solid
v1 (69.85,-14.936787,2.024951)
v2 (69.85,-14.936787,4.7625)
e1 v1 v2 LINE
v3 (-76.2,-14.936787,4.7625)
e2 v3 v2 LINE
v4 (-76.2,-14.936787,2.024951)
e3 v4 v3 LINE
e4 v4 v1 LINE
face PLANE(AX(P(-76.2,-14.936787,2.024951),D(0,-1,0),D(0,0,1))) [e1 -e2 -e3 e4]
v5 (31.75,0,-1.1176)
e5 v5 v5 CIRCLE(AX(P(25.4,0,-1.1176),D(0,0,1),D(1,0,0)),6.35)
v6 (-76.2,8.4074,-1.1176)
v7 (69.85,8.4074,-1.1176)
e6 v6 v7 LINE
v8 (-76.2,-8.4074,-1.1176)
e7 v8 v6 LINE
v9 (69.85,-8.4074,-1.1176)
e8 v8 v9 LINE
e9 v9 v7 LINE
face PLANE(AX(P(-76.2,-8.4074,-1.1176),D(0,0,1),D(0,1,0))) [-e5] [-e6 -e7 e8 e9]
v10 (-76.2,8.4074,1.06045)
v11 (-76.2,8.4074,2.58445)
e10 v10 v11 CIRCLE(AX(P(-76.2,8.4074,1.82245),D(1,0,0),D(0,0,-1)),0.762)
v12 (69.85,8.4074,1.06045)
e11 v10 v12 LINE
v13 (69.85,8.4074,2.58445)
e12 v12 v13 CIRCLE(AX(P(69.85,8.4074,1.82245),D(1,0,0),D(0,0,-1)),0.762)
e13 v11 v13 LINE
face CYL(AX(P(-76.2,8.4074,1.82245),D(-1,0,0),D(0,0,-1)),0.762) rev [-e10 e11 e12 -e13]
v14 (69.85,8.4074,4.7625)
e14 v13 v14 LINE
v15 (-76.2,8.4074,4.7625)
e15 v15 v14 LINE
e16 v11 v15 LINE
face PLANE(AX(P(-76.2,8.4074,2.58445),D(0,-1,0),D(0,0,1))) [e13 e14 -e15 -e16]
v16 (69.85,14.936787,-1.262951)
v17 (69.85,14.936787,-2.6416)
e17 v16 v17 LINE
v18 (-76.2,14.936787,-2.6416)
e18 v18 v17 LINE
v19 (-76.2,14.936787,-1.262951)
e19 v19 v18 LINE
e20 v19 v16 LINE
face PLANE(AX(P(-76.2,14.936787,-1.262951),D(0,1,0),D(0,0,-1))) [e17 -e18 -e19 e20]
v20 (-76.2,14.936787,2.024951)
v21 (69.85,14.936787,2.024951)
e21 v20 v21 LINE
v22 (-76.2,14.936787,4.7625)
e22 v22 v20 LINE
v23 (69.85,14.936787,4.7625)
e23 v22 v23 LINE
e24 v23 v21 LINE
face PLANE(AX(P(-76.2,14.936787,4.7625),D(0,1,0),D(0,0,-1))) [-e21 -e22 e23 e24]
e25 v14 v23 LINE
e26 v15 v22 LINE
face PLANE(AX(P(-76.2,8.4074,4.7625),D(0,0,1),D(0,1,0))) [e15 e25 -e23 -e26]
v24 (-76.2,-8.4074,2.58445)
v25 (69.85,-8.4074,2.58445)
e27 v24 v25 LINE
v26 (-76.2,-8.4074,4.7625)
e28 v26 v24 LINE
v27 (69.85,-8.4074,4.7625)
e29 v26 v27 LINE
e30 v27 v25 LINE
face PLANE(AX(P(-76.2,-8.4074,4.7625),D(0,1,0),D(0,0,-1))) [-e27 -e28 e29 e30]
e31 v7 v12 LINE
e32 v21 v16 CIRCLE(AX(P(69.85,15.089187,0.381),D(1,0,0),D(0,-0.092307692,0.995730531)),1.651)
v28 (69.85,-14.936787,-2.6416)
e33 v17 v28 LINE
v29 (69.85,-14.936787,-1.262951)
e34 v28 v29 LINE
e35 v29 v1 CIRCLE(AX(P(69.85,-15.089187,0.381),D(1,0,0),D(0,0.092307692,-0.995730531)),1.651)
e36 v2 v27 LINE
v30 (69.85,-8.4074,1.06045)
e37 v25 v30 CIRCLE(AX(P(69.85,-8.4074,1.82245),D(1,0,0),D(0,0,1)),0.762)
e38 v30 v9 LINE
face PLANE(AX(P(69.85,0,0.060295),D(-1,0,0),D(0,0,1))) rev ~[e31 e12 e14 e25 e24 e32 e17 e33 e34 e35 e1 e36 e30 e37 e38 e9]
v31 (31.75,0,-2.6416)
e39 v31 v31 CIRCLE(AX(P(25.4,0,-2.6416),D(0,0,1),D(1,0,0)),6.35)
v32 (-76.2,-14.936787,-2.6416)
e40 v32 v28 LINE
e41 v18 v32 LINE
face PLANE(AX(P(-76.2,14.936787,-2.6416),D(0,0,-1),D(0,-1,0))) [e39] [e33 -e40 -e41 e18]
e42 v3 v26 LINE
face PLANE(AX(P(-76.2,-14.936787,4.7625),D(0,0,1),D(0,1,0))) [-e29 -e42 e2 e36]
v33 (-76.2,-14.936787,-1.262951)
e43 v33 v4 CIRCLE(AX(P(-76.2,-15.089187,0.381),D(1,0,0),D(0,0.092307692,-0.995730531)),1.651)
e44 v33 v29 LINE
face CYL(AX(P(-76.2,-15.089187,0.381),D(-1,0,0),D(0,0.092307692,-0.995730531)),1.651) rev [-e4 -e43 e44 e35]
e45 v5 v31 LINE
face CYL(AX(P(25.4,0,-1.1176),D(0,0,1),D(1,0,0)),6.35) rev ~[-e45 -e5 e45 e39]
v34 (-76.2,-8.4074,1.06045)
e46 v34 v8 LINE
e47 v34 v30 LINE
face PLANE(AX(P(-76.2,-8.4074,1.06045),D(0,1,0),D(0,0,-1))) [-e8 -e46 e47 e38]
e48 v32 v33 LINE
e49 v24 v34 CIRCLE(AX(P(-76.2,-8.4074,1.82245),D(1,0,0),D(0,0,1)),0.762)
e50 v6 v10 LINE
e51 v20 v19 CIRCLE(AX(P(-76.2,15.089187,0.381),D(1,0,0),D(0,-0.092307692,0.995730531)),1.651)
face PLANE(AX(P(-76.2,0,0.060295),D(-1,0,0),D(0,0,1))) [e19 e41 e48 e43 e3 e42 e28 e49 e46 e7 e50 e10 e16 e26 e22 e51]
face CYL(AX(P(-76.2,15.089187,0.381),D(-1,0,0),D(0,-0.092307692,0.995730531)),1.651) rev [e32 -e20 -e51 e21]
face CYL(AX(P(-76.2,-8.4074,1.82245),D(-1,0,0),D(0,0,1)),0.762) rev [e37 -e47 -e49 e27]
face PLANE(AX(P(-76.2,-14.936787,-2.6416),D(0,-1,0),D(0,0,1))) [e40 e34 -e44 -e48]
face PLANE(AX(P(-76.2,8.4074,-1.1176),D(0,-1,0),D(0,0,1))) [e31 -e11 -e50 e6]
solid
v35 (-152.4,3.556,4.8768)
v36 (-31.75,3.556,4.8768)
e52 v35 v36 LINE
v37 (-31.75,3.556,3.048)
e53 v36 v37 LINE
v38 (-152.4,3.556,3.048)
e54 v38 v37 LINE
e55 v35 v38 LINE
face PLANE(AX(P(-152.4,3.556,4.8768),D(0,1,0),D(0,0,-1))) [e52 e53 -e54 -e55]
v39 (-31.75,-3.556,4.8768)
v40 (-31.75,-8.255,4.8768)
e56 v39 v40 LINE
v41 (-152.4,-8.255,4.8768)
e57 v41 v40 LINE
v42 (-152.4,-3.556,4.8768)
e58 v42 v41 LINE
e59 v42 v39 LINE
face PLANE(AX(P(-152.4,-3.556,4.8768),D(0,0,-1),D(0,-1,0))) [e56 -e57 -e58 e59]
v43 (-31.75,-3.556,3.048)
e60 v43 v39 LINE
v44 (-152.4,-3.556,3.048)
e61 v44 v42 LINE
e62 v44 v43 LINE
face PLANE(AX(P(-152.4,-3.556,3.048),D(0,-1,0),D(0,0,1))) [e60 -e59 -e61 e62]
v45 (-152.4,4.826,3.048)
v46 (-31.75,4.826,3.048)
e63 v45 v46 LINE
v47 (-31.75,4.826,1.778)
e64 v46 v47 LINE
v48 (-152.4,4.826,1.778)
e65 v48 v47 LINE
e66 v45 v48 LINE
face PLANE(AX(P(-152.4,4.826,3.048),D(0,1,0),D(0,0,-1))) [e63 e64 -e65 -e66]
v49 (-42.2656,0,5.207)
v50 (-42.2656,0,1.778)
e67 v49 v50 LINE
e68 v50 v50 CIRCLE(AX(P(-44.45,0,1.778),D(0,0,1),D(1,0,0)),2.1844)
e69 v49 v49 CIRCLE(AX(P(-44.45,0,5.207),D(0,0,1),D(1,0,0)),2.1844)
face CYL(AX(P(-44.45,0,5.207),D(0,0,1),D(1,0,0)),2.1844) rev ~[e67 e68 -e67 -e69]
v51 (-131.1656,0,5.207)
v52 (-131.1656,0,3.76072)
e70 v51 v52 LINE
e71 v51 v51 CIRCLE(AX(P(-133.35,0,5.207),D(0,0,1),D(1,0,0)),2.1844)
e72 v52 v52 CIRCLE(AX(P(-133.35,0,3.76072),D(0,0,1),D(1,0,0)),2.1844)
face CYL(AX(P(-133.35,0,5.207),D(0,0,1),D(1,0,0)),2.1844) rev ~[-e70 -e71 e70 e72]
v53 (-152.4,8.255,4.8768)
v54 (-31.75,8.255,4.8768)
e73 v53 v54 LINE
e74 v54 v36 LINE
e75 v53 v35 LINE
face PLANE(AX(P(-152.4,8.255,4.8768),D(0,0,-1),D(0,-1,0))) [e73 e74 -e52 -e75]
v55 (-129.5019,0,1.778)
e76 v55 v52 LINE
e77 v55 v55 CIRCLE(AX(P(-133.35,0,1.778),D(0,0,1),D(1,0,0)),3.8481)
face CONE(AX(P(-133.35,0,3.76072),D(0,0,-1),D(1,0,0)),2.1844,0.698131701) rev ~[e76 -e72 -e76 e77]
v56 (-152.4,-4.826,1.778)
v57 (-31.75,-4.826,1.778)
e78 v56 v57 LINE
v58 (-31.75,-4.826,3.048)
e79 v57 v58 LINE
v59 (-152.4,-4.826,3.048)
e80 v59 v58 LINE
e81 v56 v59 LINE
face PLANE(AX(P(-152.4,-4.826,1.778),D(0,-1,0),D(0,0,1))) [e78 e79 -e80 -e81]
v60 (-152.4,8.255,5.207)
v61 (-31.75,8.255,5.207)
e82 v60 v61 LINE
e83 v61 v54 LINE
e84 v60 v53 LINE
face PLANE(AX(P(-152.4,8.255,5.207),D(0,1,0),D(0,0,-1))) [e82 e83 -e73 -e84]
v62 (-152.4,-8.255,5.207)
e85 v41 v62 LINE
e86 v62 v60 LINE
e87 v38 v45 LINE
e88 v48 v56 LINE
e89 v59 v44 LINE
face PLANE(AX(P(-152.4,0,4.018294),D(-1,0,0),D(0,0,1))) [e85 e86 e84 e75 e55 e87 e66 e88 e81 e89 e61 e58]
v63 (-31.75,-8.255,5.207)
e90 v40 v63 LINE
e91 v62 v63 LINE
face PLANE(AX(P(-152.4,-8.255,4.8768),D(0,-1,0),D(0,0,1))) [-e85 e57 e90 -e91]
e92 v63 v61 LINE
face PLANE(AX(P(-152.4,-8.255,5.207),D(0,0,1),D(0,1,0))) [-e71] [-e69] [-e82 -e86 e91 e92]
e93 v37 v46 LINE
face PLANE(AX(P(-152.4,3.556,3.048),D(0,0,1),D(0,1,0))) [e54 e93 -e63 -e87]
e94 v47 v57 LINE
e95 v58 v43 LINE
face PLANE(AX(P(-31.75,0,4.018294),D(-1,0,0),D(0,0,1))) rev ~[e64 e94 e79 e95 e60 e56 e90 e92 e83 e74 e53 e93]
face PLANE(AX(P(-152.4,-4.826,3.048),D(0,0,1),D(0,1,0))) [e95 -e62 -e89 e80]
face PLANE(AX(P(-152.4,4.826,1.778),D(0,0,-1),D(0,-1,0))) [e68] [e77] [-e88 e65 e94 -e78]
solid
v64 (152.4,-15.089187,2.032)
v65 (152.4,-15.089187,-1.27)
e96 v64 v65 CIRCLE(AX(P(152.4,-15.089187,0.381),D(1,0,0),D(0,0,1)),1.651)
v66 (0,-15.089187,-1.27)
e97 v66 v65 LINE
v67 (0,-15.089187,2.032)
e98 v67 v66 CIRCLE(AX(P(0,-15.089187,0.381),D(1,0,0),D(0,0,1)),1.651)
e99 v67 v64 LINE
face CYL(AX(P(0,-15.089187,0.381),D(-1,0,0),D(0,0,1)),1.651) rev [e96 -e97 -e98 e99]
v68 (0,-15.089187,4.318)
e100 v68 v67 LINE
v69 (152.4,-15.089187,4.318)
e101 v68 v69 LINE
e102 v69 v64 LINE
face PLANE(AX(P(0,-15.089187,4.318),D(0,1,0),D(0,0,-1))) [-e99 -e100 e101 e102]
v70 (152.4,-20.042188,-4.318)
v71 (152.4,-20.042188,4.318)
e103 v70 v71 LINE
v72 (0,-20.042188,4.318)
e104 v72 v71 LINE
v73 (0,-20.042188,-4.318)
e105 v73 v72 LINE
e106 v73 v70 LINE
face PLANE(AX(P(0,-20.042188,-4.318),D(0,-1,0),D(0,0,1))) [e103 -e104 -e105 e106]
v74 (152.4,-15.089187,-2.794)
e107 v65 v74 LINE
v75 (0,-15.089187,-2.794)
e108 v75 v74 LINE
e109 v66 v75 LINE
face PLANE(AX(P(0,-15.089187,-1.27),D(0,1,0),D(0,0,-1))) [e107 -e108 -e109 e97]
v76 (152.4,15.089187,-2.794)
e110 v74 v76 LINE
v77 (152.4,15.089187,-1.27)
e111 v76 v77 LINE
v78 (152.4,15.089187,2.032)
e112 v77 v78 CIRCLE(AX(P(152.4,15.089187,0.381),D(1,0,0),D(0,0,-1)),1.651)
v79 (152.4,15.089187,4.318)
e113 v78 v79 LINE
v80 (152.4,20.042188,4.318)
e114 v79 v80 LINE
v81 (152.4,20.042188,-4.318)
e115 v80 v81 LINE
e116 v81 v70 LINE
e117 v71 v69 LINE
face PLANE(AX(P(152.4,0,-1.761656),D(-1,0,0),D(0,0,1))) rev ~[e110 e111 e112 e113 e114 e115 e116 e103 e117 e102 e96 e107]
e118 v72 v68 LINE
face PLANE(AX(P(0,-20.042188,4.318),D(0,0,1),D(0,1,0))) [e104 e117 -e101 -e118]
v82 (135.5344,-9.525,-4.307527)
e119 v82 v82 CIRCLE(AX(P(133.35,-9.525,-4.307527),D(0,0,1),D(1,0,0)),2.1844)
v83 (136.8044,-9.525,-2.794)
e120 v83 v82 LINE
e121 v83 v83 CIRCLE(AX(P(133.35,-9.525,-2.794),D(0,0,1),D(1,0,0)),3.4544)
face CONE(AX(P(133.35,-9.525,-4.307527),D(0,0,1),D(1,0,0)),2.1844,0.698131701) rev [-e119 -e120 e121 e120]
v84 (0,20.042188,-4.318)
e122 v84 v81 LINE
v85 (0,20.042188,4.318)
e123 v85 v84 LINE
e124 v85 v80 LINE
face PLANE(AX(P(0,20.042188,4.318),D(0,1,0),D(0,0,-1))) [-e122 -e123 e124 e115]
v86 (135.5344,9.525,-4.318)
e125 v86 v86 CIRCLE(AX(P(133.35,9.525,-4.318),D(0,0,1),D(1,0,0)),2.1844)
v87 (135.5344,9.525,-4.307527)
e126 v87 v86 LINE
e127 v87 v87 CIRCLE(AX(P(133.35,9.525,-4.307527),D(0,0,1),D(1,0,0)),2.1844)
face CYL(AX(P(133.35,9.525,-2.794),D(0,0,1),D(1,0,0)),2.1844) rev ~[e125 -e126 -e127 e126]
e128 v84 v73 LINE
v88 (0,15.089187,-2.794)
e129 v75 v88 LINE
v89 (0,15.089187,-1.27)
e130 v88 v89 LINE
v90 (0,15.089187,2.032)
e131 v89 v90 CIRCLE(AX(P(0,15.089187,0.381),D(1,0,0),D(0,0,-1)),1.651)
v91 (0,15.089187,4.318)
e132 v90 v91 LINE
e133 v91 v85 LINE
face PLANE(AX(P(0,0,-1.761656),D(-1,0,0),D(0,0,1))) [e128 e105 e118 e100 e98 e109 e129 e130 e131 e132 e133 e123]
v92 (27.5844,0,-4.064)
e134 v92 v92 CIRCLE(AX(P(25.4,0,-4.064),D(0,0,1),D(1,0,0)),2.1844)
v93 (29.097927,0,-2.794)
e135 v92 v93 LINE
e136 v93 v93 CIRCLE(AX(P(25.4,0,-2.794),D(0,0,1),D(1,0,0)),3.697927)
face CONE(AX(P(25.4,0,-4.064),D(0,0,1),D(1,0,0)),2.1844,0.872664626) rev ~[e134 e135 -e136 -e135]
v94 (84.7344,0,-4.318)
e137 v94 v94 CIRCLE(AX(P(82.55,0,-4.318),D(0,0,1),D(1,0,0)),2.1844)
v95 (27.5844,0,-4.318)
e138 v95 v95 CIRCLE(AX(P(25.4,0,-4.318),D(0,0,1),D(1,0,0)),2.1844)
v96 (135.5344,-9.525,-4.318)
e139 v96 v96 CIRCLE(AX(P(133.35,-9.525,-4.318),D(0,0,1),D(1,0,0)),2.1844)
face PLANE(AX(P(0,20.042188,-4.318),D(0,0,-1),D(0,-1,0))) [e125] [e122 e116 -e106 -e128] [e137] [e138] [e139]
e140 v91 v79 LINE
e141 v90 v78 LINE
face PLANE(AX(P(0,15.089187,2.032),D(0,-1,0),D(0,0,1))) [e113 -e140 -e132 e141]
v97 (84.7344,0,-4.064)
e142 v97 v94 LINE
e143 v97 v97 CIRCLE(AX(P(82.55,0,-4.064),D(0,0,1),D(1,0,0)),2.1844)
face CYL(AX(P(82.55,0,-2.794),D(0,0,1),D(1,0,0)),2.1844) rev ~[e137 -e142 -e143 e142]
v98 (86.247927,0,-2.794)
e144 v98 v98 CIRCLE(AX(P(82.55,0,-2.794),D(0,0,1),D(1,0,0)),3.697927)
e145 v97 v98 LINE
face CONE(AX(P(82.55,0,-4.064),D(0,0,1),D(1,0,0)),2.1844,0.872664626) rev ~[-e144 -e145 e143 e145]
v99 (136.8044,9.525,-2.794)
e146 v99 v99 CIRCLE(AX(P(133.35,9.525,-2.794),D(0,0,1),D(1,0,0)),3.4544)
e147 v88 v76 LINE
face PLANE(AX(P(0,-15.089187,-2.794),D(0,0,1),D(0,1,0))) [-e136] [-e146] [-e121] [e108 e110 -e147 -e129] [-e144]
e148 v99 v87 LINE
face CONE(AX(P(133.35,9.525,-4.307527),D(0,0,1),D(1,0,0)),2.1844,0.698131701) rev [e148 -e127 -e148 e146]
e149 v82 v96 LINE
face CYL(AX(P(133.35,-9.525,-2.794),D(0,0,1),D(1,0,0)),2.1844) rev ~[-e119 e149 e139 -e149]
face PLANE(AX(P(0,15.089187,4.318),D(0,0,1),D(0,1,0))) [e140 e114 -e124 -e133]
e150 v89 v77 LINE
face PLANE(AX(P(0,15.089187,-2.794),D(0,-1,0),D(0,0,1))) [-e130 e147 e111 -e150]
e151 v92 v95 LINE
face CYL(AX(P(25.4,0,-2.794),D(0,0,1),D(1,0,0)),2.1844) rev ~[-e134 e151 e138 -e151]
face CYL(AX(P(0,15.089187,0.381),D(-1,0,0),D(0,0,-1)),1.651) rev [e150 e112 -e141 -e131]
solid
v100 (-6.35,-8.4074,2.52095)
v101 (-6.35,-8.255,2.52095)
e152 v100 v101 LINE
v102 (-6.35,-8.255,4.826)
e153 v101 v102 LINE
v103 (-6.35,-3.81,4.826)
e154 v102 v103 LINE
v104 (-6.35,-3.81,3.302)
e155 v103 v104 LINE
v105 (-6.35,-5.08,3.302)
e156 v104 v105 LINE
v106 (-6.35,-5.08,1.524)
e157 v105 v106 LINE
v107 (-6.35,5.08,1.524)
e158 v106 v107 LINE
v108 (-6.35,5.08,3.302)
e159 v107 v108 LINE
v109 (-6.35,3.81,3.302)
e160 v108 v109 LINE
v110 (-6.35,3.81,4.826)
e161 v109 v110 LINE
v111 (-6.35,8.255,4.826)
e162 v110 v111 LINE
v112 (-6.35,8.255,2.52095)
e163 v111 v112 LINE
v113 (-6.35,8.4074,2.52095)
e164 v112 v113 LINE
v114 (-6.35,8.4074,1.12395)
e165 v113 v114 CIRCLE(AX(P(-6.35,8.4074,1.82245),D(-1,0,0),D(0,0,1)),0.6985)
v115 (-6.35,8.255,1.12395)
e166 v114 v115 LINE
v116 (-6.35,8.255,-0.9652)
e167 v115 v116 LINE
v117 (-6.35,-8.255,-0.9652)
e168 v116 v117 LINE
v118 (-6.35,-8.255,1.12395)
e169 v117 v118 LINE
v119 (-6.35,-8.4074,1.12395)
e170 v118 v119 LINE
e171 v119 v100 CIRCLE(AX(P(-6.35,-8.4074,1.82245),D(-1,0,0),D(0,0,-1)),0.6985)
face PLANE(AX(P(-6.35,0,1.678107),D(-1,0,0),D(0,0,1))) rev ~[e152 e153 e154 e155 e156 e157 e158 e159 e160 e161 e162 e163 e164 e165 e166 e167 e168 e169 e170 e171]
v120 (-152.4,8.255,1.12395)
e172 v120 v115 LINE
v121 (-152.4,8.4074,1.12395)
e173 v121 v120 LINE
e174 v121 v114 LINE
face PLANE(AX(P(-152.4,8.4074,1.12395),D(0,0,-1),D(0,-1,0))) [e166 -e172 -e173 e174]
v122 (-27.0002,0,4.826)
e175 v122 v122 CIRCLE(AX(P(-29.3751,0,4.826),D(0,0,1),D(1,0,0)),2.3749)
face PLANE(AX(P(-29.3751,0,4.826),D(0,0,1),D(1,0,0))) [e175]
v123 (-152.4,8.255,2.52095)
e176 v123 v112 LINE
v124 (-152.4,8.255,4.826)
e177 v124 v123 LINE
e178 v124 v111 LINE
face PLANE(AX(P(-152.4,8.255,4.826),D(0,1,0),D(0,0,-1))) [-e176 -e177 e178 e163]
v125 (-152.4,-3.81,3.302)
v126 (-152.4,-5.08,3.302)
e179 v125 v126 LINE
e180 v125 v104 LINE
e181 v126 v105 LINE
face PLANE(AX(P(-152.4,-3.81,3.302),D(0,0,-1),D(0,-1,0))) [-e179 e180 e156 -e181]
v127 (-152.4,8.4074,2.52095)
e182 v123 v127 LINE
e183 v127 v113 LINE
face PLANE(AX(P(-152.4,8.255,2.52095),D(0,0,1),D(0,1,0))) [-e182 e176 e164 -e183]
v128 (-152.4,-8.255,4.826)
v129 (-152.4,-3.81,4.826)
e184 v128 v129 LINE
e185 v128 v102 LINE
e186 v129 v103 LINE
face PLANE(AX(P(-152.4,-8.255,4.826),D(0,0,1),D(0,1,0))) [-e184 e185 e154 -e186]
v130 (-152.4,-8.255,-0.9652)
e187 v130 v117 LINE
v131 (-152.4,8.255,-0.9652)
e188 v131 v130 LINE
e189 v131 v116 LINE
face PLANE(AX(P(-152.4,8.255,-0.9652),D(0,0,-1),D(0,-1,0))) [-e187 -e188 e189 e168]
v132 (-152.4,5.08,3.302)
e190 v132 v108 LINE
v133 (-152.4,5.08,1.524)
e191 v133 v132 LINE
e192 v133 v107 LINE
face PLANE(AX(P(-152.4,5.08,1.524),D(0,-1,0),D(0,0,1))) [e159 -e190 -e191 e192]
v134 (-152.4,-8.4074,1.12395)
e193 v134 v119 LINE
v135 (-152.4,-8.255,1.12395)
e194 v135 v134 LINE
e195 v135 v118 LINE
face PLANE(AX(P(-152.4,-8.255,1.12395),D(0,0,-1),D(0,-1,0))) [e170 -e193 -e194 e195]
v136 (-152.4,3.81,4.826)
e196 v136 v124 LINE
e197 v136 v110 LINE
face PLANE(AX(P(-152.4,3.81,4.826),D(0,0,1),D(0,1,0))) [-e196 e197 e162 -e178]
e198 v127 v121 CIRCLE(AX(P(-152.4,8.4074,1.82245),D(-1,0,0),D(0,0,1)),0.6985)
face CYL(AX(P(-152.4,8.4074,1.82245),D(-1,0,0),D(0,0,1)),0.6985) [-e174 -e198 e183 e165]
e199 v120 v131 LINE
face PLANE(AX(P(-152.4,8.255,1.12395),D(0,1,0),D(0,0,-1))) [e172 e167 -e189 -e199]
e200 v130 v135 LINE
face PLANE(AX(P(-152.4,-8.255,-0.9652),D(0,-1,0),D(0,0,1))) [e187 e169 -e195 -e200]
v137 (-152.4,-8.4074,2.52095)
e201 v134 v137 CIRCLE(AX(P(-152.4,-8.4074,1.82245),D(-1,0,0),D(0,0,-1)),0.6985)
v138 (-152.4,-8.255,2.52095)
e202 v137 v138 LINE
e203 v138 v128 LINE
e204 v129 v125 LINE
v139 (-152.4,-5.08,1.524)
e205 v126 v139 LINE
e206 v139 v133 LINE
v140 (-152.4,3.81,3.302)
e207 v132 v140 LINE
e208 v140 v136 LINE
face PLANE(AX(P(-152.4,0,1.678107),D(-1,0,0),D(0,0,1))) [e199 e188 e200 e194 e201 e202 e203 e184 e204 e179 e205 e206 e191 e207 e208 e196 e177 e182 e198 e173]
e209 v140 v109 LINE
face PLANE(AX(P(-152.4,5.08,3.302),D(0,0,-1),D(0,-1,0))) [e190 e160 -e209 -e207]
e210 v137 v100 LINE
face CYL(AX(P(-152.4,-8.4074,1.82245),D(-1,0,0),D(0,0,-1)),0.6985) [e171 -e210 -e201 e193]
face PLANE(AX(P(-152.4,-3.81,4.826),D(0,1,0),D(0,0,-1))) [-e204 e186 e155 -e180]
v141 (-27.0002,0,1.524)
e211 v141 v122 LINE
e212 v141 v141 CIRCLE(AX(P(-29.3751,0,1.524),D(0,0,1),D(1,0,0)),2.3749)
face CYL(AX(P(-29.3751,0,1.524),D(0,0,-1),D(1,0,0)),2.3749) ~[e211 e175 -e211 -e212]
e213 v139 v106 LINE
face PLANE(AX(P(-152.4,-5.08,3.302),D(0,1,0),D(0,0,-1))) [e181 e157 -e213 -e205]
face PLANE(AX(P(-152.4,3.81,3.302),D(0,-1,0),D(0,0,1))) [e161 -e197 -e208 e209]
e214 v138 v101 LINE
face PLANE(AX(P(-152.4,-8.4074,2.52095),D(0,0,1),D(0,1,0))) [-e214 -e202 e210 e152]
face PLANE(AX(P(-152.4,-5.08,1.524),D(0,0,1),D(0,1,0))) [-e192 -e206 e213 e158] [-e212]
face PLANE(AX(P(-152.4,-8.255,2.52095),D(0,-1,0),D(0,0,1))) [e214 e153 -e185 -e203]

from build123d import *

# Parameters (mm, degrees)
EXTRUDE1_DEPTH        = 152.4
EXTRUDE2_DEPTH        = 146.05
EXTRUDE3_DEPTH        = 146.05
SKETCH9_R             = 2.3749
EXTRUDE4_DEPTH        = 3.302
EXTRUDE5_DEPTH        = 120.65
SKETCH4_R             = 2.1844
CUT_EXTRUDE1_DEPTH    = 1.524
CHAMFER1_SIZE         = 1.27
CHAMFER1_SIZE2        = 1.513527063
CHAMFER1_PART_2_SIZE  = 1.27
CHAMFER1_PART_2_SIZE2 = 1.513527063
CHAMFER1_PART_3_SIZE  = 1.27
CHAMFER1_PART_3_SIZE2 = 1.513527063
SKETCH5_R             = 6.35
CUT_EXTRUDE2_DEPTH    = 1.524
SKETCH6_R             = 2.1844
CUT_EXTRUDE3_DEPTH    = 3.429
CHAMFER2_SIZE         = 1.6637
CHAMFER2_SIZE2        = 1.982720452


with BuildPart() as part:
    # Sketch1 → Extrude1 (new body)
    with BuildSketch(Plane(origin=(0, 0, 0), x_dir=(0, 0, -1), z_dir=(1, 0, 0))):
        with BuildLine():
            Line((-4.318, 20.0421875), (4.318, 20.0421875))
            Line((4.318, 20.0421875), (4.318, -20.0421875))
            Line((4.318, -20.0421875), (-4.318, -20.0421875))
            Line((-4.318, -20.0421875), (-4.318, -15.0891875))
            Line((-4.318, -15.0891875), (-2.032, -15.0891875))
            ThreePointArc((-2.032, -15.0891875), (-0.381, -16.7401875), (1.27, -15.0891875))
            Line((1.27, -15.0891875), (2.794, -15.0891875))
            Line((2.794, -15.0891875), (2.794, 15.0891875))
            Line((2.794, 15.0891875), (1.27, 15.0891875))
            ThreePointArc((1.27, 15.0891875), (-0.381, 16.7401875), (-2.032, 15.0891875))
            Line((-2.032, 15.0891875), (-4.318, 15.0891875))
            Line((-4.318, 15.0891875), (-4.318, 20.0421875))
        make_face()
    extrude(amount=EXTRUDE1_DEPTH)

    # Sketch4 → Cut-Extrude1 (cut)
    with BuildSketch(Plane.XY.offset(-2.794)):
        with Locations((133.35, 9.525)):
            Circle(SKETCH4_R)
        with Locations((133.35, -9.525)):
            Circle(SKETCH4_R)
        with Locations((82.55, 0)):
            Circle(SKETCH4_R)
        with Locations((25.4, 0)):
            Circle(SKETCH4_R)
    extrude(amount=-CUT_EXTRUDE1_DEPTH, mode=Mode.SUBTRACT)

    # Chamfer1
    chamfer1_edges = [part.edges().sort_by_distance(p)[0] for p in [
        (131.1656, 9.525, -2.794),
        (131.1656, -9.525, -2.794),
    ]]
    chamfer1_side = [part.faces().sort_by_distance(p)[0] for p in [
        (75.96932574, 0, -2.794),
    ]]
    chamfer(chamfer1_edges, length=CHAMFER1_SIZE, length2=CHAMFER1_SIZE2, reference=chamfer1_side[0])

    # Chamfer1 part 2
    chamfer1_part_2_edges = [part.edges().sort_by_distance(p)[0] for p in [
        (80.3656, 0, -2.794),
    ]]
    chamfer1_part_2_side = [part.faces().sort_by_distance(p)[0] for p in [
        (80.3656, 0, -3.556),
    ]]
    chamfer(chamfer1_part_2_edges, length=CHAMFER1_PART_2_SIZE, length2=CHAMFER1_PART_2_SIZE2, reference=chamfer1_part_2_side[0])

    # Chamfer1 part 3
    chamfer1_part_3_edges = [part.edges().sort_by_distance(p)[0] for p in [
        (23.2156, 0, -2.794),
    ]]
    chamfer1_part_3_side = [part.faces().sort_by_distance(p)[0] for p in [
        (23.2156, 0, -3.556),
    ]]
    chamfer(chamfer1_part_3_edges, length=CHAMFER1_PART_3_SIZE, length2=CHAMFER1_PART_3_SIZE2, reference=chamfer1_part_3_side[0])


with BuildPart() as body_2:
    # Sketch2 → Extrude2 (new body)
    with BuildSketch(Plane(origin=(-76.2, 0, 0), x_dir=(0, 0, -1), z_dir=(1, 0, 0))):
        with BuildLine():
            Line((-4.7625, 14.9367875), (-2.024951106, 14.9367875))
            ThreePointArc((-2.024951106, 14.9367875), (-0.381, 13.4381875), (1.262951106, 14.9367875))
            Line((1.262951106, 14.9367875), (2.6416, 14.9367875))
            Line((2.6416, 14.9367875), (2.6416, -14.9367875))
            Line((2.6416, -14.9367875), (1.262951106, -14.9367875))
            ThreePointArc((1.262951106, -14.9367875), (-0.381, -13.4381875), (-2.024951106, -14.9367875))
            Line((-2.024951106, -14.9367875), (-4.7625, -14.9367875))
            Line((-4.7625, -14.9367875), (-4.7625, -8.4074))
            Line((-4.7625, -8.4074), (-2.58445, -8.4074))
            ThreePointArc((-2.58445, -8.4074), (-1.82245, -9.1694), (-1.06045, -8.4074))
            Line((-1.06045, -8.4074), (1.1176, -8.4074))
            Line((1.1176, -8.4074), (1.1176, 8.4074))
            Line((1.1176, 8.4074), (-1.06045, 8.4074))
            ThreePointArc((-1.06045, 8.4074), (-1.82245, 9.1694), (-2.58445, 8.4074))
            Line((-2.58445, 8.4074), (-4.7625, 8.4074))
            Line((-4.7625, 8.4074), (-4.7625, 14.9367875))
        make_face()
    extrude(amount=EXTRUDE2_DEPTH)

    # Sketch5 → Cut-Extrude2 (cut)
    with BuildSketch(Plane.XY.offset(-1.1176)):
        with Locations((25.4, 0)):
            Circle(SKETCH5_R)
        with Locations((82.55, 0)):
            Circle(SKETCH5_R)
    extrude(amount=-CUT_EXTRUDE2_DEPTH, mode=Mode.SUBTRACT)


with BuildPart() as body_3:
    # Sketch3 → Extrude3 (new body)
    with BuildSketch(Plane(origin=(-152.4, 0, 0), x_dir=(0, 0, -1), z_dir=(1, 0, 0))):
        with BuildLine():
            Line((-4.826, 8.255), (-2.52095, 8.255))
            Line((-2.52095, 8.255), (-2.52095, 8.4074))
            ThreePointArc((-2.52095, 8.4074), (-1.82245, 9.1059), (-1.12395, 8.4074))
            Line((-1.12395, 8.4074), (-1.12395, 8.255))
            Line((-1.12395, 8.255), (0.9652, 8.255))
            Line((0.9652, 8.255), (0.9652, -8.255))
            Line((0.9652, -8.255), (-1.12395, -8.255))
            Line((-1.12395, -8.255), (-1.12395, -8.4074))
            ThreePointArc((-1.12395, -8.4074), (-1.82245, -9.1059), (-2.52095, -8.4074))
            Line((-2.52095, -8.4074), (-2.52095, -8.255))
            Line((-2.52095, -8.255), (-4.826, -8.255))
            Line((-4.826, -8.255), (-4.826, -3.81))
            Line((-4.826, -3.81), (-3.302, -3.81))
            Line((-3.302, -3.81), (-3.302, -5.08))
            Line((-3.302, -5.08), (-1.524, -5.08))
            Line((-1.524, -5.08), (-1.524, 5.08))
            Line((-1.524, 5.08), (-3.302, 5.08))
            Line((-3.302, 5.08), (-3.302, 3.81))
            Line((-3.302, 3.81), (-4.826, 3.81))
            Line((-4.826, 3.81), (-4.826, 8.255))
        make_face()
    extrude(amount=EXTRUDE3_DEPTH)

    # Sketch9 → Extrude4 (add)
    with BuildSketch(Plane.XY.offset(1.524)):
        with Locations((-29.3751, 0)):
            Circle(SKETCH9_R)
    extrude(amount=EXTRUDE4_DEPTH)


with BuildPart() as body_4:
    # Sketch10 → Extrude5 (new body)
    with BuildSketch(Plane(origin=(-152.4, 0, 0), x_dir=(0, 0, -1), z_dir=(1, 0, 0))):
        Polygon((-4.8768, 8.255), (-4.8768, 3.556), (-3.048, 3.556), (-3.048, 4.826), (-1.778, 4.826), (-1.778, -4.826), (-3.048, -4.826), (-3.048, -3.556), (-4.8768, -3.556), (-4.8768, -8.255), (-5.207, -8.255), (-5.207, 8.255), align=None)
    extrude(amount=EXTRUDE5_DEPTH)

    # Sketch6 → Cut-Extrude3 (cut)
    with BuildSketch(Plane.XY.offset(5.207)):
        with Locations((-133.35, 0)):
            Circle(SKETCH6_R)
        with Locations((-44.45, 0)):
            Circle(SKETCH6_R)
    extrude(amount=-CUT_EXTRUDE3_DEPTH, mode=Mode.SUBTRACT)

    # Chamfer2
    chamfer2_edges = [body_4.edges().sort_by_distance(p)[0] for p in [
        (-135.5344, 0, 1.778),
    ]]
    chamfer2_side = [body_4.faces().sort_by_distance(p)[0] for p in [
        (-92.158901713, 0, 1.778),
    ]]
    chamfer(chamfer2_edges, length=CHAMFER2_SIZE, length2=CHAMFER2_SIZE2, reference=chamfer2_side[0])


solid = Compound([part.part, body_2.part, body_3.part, body_4.part])
